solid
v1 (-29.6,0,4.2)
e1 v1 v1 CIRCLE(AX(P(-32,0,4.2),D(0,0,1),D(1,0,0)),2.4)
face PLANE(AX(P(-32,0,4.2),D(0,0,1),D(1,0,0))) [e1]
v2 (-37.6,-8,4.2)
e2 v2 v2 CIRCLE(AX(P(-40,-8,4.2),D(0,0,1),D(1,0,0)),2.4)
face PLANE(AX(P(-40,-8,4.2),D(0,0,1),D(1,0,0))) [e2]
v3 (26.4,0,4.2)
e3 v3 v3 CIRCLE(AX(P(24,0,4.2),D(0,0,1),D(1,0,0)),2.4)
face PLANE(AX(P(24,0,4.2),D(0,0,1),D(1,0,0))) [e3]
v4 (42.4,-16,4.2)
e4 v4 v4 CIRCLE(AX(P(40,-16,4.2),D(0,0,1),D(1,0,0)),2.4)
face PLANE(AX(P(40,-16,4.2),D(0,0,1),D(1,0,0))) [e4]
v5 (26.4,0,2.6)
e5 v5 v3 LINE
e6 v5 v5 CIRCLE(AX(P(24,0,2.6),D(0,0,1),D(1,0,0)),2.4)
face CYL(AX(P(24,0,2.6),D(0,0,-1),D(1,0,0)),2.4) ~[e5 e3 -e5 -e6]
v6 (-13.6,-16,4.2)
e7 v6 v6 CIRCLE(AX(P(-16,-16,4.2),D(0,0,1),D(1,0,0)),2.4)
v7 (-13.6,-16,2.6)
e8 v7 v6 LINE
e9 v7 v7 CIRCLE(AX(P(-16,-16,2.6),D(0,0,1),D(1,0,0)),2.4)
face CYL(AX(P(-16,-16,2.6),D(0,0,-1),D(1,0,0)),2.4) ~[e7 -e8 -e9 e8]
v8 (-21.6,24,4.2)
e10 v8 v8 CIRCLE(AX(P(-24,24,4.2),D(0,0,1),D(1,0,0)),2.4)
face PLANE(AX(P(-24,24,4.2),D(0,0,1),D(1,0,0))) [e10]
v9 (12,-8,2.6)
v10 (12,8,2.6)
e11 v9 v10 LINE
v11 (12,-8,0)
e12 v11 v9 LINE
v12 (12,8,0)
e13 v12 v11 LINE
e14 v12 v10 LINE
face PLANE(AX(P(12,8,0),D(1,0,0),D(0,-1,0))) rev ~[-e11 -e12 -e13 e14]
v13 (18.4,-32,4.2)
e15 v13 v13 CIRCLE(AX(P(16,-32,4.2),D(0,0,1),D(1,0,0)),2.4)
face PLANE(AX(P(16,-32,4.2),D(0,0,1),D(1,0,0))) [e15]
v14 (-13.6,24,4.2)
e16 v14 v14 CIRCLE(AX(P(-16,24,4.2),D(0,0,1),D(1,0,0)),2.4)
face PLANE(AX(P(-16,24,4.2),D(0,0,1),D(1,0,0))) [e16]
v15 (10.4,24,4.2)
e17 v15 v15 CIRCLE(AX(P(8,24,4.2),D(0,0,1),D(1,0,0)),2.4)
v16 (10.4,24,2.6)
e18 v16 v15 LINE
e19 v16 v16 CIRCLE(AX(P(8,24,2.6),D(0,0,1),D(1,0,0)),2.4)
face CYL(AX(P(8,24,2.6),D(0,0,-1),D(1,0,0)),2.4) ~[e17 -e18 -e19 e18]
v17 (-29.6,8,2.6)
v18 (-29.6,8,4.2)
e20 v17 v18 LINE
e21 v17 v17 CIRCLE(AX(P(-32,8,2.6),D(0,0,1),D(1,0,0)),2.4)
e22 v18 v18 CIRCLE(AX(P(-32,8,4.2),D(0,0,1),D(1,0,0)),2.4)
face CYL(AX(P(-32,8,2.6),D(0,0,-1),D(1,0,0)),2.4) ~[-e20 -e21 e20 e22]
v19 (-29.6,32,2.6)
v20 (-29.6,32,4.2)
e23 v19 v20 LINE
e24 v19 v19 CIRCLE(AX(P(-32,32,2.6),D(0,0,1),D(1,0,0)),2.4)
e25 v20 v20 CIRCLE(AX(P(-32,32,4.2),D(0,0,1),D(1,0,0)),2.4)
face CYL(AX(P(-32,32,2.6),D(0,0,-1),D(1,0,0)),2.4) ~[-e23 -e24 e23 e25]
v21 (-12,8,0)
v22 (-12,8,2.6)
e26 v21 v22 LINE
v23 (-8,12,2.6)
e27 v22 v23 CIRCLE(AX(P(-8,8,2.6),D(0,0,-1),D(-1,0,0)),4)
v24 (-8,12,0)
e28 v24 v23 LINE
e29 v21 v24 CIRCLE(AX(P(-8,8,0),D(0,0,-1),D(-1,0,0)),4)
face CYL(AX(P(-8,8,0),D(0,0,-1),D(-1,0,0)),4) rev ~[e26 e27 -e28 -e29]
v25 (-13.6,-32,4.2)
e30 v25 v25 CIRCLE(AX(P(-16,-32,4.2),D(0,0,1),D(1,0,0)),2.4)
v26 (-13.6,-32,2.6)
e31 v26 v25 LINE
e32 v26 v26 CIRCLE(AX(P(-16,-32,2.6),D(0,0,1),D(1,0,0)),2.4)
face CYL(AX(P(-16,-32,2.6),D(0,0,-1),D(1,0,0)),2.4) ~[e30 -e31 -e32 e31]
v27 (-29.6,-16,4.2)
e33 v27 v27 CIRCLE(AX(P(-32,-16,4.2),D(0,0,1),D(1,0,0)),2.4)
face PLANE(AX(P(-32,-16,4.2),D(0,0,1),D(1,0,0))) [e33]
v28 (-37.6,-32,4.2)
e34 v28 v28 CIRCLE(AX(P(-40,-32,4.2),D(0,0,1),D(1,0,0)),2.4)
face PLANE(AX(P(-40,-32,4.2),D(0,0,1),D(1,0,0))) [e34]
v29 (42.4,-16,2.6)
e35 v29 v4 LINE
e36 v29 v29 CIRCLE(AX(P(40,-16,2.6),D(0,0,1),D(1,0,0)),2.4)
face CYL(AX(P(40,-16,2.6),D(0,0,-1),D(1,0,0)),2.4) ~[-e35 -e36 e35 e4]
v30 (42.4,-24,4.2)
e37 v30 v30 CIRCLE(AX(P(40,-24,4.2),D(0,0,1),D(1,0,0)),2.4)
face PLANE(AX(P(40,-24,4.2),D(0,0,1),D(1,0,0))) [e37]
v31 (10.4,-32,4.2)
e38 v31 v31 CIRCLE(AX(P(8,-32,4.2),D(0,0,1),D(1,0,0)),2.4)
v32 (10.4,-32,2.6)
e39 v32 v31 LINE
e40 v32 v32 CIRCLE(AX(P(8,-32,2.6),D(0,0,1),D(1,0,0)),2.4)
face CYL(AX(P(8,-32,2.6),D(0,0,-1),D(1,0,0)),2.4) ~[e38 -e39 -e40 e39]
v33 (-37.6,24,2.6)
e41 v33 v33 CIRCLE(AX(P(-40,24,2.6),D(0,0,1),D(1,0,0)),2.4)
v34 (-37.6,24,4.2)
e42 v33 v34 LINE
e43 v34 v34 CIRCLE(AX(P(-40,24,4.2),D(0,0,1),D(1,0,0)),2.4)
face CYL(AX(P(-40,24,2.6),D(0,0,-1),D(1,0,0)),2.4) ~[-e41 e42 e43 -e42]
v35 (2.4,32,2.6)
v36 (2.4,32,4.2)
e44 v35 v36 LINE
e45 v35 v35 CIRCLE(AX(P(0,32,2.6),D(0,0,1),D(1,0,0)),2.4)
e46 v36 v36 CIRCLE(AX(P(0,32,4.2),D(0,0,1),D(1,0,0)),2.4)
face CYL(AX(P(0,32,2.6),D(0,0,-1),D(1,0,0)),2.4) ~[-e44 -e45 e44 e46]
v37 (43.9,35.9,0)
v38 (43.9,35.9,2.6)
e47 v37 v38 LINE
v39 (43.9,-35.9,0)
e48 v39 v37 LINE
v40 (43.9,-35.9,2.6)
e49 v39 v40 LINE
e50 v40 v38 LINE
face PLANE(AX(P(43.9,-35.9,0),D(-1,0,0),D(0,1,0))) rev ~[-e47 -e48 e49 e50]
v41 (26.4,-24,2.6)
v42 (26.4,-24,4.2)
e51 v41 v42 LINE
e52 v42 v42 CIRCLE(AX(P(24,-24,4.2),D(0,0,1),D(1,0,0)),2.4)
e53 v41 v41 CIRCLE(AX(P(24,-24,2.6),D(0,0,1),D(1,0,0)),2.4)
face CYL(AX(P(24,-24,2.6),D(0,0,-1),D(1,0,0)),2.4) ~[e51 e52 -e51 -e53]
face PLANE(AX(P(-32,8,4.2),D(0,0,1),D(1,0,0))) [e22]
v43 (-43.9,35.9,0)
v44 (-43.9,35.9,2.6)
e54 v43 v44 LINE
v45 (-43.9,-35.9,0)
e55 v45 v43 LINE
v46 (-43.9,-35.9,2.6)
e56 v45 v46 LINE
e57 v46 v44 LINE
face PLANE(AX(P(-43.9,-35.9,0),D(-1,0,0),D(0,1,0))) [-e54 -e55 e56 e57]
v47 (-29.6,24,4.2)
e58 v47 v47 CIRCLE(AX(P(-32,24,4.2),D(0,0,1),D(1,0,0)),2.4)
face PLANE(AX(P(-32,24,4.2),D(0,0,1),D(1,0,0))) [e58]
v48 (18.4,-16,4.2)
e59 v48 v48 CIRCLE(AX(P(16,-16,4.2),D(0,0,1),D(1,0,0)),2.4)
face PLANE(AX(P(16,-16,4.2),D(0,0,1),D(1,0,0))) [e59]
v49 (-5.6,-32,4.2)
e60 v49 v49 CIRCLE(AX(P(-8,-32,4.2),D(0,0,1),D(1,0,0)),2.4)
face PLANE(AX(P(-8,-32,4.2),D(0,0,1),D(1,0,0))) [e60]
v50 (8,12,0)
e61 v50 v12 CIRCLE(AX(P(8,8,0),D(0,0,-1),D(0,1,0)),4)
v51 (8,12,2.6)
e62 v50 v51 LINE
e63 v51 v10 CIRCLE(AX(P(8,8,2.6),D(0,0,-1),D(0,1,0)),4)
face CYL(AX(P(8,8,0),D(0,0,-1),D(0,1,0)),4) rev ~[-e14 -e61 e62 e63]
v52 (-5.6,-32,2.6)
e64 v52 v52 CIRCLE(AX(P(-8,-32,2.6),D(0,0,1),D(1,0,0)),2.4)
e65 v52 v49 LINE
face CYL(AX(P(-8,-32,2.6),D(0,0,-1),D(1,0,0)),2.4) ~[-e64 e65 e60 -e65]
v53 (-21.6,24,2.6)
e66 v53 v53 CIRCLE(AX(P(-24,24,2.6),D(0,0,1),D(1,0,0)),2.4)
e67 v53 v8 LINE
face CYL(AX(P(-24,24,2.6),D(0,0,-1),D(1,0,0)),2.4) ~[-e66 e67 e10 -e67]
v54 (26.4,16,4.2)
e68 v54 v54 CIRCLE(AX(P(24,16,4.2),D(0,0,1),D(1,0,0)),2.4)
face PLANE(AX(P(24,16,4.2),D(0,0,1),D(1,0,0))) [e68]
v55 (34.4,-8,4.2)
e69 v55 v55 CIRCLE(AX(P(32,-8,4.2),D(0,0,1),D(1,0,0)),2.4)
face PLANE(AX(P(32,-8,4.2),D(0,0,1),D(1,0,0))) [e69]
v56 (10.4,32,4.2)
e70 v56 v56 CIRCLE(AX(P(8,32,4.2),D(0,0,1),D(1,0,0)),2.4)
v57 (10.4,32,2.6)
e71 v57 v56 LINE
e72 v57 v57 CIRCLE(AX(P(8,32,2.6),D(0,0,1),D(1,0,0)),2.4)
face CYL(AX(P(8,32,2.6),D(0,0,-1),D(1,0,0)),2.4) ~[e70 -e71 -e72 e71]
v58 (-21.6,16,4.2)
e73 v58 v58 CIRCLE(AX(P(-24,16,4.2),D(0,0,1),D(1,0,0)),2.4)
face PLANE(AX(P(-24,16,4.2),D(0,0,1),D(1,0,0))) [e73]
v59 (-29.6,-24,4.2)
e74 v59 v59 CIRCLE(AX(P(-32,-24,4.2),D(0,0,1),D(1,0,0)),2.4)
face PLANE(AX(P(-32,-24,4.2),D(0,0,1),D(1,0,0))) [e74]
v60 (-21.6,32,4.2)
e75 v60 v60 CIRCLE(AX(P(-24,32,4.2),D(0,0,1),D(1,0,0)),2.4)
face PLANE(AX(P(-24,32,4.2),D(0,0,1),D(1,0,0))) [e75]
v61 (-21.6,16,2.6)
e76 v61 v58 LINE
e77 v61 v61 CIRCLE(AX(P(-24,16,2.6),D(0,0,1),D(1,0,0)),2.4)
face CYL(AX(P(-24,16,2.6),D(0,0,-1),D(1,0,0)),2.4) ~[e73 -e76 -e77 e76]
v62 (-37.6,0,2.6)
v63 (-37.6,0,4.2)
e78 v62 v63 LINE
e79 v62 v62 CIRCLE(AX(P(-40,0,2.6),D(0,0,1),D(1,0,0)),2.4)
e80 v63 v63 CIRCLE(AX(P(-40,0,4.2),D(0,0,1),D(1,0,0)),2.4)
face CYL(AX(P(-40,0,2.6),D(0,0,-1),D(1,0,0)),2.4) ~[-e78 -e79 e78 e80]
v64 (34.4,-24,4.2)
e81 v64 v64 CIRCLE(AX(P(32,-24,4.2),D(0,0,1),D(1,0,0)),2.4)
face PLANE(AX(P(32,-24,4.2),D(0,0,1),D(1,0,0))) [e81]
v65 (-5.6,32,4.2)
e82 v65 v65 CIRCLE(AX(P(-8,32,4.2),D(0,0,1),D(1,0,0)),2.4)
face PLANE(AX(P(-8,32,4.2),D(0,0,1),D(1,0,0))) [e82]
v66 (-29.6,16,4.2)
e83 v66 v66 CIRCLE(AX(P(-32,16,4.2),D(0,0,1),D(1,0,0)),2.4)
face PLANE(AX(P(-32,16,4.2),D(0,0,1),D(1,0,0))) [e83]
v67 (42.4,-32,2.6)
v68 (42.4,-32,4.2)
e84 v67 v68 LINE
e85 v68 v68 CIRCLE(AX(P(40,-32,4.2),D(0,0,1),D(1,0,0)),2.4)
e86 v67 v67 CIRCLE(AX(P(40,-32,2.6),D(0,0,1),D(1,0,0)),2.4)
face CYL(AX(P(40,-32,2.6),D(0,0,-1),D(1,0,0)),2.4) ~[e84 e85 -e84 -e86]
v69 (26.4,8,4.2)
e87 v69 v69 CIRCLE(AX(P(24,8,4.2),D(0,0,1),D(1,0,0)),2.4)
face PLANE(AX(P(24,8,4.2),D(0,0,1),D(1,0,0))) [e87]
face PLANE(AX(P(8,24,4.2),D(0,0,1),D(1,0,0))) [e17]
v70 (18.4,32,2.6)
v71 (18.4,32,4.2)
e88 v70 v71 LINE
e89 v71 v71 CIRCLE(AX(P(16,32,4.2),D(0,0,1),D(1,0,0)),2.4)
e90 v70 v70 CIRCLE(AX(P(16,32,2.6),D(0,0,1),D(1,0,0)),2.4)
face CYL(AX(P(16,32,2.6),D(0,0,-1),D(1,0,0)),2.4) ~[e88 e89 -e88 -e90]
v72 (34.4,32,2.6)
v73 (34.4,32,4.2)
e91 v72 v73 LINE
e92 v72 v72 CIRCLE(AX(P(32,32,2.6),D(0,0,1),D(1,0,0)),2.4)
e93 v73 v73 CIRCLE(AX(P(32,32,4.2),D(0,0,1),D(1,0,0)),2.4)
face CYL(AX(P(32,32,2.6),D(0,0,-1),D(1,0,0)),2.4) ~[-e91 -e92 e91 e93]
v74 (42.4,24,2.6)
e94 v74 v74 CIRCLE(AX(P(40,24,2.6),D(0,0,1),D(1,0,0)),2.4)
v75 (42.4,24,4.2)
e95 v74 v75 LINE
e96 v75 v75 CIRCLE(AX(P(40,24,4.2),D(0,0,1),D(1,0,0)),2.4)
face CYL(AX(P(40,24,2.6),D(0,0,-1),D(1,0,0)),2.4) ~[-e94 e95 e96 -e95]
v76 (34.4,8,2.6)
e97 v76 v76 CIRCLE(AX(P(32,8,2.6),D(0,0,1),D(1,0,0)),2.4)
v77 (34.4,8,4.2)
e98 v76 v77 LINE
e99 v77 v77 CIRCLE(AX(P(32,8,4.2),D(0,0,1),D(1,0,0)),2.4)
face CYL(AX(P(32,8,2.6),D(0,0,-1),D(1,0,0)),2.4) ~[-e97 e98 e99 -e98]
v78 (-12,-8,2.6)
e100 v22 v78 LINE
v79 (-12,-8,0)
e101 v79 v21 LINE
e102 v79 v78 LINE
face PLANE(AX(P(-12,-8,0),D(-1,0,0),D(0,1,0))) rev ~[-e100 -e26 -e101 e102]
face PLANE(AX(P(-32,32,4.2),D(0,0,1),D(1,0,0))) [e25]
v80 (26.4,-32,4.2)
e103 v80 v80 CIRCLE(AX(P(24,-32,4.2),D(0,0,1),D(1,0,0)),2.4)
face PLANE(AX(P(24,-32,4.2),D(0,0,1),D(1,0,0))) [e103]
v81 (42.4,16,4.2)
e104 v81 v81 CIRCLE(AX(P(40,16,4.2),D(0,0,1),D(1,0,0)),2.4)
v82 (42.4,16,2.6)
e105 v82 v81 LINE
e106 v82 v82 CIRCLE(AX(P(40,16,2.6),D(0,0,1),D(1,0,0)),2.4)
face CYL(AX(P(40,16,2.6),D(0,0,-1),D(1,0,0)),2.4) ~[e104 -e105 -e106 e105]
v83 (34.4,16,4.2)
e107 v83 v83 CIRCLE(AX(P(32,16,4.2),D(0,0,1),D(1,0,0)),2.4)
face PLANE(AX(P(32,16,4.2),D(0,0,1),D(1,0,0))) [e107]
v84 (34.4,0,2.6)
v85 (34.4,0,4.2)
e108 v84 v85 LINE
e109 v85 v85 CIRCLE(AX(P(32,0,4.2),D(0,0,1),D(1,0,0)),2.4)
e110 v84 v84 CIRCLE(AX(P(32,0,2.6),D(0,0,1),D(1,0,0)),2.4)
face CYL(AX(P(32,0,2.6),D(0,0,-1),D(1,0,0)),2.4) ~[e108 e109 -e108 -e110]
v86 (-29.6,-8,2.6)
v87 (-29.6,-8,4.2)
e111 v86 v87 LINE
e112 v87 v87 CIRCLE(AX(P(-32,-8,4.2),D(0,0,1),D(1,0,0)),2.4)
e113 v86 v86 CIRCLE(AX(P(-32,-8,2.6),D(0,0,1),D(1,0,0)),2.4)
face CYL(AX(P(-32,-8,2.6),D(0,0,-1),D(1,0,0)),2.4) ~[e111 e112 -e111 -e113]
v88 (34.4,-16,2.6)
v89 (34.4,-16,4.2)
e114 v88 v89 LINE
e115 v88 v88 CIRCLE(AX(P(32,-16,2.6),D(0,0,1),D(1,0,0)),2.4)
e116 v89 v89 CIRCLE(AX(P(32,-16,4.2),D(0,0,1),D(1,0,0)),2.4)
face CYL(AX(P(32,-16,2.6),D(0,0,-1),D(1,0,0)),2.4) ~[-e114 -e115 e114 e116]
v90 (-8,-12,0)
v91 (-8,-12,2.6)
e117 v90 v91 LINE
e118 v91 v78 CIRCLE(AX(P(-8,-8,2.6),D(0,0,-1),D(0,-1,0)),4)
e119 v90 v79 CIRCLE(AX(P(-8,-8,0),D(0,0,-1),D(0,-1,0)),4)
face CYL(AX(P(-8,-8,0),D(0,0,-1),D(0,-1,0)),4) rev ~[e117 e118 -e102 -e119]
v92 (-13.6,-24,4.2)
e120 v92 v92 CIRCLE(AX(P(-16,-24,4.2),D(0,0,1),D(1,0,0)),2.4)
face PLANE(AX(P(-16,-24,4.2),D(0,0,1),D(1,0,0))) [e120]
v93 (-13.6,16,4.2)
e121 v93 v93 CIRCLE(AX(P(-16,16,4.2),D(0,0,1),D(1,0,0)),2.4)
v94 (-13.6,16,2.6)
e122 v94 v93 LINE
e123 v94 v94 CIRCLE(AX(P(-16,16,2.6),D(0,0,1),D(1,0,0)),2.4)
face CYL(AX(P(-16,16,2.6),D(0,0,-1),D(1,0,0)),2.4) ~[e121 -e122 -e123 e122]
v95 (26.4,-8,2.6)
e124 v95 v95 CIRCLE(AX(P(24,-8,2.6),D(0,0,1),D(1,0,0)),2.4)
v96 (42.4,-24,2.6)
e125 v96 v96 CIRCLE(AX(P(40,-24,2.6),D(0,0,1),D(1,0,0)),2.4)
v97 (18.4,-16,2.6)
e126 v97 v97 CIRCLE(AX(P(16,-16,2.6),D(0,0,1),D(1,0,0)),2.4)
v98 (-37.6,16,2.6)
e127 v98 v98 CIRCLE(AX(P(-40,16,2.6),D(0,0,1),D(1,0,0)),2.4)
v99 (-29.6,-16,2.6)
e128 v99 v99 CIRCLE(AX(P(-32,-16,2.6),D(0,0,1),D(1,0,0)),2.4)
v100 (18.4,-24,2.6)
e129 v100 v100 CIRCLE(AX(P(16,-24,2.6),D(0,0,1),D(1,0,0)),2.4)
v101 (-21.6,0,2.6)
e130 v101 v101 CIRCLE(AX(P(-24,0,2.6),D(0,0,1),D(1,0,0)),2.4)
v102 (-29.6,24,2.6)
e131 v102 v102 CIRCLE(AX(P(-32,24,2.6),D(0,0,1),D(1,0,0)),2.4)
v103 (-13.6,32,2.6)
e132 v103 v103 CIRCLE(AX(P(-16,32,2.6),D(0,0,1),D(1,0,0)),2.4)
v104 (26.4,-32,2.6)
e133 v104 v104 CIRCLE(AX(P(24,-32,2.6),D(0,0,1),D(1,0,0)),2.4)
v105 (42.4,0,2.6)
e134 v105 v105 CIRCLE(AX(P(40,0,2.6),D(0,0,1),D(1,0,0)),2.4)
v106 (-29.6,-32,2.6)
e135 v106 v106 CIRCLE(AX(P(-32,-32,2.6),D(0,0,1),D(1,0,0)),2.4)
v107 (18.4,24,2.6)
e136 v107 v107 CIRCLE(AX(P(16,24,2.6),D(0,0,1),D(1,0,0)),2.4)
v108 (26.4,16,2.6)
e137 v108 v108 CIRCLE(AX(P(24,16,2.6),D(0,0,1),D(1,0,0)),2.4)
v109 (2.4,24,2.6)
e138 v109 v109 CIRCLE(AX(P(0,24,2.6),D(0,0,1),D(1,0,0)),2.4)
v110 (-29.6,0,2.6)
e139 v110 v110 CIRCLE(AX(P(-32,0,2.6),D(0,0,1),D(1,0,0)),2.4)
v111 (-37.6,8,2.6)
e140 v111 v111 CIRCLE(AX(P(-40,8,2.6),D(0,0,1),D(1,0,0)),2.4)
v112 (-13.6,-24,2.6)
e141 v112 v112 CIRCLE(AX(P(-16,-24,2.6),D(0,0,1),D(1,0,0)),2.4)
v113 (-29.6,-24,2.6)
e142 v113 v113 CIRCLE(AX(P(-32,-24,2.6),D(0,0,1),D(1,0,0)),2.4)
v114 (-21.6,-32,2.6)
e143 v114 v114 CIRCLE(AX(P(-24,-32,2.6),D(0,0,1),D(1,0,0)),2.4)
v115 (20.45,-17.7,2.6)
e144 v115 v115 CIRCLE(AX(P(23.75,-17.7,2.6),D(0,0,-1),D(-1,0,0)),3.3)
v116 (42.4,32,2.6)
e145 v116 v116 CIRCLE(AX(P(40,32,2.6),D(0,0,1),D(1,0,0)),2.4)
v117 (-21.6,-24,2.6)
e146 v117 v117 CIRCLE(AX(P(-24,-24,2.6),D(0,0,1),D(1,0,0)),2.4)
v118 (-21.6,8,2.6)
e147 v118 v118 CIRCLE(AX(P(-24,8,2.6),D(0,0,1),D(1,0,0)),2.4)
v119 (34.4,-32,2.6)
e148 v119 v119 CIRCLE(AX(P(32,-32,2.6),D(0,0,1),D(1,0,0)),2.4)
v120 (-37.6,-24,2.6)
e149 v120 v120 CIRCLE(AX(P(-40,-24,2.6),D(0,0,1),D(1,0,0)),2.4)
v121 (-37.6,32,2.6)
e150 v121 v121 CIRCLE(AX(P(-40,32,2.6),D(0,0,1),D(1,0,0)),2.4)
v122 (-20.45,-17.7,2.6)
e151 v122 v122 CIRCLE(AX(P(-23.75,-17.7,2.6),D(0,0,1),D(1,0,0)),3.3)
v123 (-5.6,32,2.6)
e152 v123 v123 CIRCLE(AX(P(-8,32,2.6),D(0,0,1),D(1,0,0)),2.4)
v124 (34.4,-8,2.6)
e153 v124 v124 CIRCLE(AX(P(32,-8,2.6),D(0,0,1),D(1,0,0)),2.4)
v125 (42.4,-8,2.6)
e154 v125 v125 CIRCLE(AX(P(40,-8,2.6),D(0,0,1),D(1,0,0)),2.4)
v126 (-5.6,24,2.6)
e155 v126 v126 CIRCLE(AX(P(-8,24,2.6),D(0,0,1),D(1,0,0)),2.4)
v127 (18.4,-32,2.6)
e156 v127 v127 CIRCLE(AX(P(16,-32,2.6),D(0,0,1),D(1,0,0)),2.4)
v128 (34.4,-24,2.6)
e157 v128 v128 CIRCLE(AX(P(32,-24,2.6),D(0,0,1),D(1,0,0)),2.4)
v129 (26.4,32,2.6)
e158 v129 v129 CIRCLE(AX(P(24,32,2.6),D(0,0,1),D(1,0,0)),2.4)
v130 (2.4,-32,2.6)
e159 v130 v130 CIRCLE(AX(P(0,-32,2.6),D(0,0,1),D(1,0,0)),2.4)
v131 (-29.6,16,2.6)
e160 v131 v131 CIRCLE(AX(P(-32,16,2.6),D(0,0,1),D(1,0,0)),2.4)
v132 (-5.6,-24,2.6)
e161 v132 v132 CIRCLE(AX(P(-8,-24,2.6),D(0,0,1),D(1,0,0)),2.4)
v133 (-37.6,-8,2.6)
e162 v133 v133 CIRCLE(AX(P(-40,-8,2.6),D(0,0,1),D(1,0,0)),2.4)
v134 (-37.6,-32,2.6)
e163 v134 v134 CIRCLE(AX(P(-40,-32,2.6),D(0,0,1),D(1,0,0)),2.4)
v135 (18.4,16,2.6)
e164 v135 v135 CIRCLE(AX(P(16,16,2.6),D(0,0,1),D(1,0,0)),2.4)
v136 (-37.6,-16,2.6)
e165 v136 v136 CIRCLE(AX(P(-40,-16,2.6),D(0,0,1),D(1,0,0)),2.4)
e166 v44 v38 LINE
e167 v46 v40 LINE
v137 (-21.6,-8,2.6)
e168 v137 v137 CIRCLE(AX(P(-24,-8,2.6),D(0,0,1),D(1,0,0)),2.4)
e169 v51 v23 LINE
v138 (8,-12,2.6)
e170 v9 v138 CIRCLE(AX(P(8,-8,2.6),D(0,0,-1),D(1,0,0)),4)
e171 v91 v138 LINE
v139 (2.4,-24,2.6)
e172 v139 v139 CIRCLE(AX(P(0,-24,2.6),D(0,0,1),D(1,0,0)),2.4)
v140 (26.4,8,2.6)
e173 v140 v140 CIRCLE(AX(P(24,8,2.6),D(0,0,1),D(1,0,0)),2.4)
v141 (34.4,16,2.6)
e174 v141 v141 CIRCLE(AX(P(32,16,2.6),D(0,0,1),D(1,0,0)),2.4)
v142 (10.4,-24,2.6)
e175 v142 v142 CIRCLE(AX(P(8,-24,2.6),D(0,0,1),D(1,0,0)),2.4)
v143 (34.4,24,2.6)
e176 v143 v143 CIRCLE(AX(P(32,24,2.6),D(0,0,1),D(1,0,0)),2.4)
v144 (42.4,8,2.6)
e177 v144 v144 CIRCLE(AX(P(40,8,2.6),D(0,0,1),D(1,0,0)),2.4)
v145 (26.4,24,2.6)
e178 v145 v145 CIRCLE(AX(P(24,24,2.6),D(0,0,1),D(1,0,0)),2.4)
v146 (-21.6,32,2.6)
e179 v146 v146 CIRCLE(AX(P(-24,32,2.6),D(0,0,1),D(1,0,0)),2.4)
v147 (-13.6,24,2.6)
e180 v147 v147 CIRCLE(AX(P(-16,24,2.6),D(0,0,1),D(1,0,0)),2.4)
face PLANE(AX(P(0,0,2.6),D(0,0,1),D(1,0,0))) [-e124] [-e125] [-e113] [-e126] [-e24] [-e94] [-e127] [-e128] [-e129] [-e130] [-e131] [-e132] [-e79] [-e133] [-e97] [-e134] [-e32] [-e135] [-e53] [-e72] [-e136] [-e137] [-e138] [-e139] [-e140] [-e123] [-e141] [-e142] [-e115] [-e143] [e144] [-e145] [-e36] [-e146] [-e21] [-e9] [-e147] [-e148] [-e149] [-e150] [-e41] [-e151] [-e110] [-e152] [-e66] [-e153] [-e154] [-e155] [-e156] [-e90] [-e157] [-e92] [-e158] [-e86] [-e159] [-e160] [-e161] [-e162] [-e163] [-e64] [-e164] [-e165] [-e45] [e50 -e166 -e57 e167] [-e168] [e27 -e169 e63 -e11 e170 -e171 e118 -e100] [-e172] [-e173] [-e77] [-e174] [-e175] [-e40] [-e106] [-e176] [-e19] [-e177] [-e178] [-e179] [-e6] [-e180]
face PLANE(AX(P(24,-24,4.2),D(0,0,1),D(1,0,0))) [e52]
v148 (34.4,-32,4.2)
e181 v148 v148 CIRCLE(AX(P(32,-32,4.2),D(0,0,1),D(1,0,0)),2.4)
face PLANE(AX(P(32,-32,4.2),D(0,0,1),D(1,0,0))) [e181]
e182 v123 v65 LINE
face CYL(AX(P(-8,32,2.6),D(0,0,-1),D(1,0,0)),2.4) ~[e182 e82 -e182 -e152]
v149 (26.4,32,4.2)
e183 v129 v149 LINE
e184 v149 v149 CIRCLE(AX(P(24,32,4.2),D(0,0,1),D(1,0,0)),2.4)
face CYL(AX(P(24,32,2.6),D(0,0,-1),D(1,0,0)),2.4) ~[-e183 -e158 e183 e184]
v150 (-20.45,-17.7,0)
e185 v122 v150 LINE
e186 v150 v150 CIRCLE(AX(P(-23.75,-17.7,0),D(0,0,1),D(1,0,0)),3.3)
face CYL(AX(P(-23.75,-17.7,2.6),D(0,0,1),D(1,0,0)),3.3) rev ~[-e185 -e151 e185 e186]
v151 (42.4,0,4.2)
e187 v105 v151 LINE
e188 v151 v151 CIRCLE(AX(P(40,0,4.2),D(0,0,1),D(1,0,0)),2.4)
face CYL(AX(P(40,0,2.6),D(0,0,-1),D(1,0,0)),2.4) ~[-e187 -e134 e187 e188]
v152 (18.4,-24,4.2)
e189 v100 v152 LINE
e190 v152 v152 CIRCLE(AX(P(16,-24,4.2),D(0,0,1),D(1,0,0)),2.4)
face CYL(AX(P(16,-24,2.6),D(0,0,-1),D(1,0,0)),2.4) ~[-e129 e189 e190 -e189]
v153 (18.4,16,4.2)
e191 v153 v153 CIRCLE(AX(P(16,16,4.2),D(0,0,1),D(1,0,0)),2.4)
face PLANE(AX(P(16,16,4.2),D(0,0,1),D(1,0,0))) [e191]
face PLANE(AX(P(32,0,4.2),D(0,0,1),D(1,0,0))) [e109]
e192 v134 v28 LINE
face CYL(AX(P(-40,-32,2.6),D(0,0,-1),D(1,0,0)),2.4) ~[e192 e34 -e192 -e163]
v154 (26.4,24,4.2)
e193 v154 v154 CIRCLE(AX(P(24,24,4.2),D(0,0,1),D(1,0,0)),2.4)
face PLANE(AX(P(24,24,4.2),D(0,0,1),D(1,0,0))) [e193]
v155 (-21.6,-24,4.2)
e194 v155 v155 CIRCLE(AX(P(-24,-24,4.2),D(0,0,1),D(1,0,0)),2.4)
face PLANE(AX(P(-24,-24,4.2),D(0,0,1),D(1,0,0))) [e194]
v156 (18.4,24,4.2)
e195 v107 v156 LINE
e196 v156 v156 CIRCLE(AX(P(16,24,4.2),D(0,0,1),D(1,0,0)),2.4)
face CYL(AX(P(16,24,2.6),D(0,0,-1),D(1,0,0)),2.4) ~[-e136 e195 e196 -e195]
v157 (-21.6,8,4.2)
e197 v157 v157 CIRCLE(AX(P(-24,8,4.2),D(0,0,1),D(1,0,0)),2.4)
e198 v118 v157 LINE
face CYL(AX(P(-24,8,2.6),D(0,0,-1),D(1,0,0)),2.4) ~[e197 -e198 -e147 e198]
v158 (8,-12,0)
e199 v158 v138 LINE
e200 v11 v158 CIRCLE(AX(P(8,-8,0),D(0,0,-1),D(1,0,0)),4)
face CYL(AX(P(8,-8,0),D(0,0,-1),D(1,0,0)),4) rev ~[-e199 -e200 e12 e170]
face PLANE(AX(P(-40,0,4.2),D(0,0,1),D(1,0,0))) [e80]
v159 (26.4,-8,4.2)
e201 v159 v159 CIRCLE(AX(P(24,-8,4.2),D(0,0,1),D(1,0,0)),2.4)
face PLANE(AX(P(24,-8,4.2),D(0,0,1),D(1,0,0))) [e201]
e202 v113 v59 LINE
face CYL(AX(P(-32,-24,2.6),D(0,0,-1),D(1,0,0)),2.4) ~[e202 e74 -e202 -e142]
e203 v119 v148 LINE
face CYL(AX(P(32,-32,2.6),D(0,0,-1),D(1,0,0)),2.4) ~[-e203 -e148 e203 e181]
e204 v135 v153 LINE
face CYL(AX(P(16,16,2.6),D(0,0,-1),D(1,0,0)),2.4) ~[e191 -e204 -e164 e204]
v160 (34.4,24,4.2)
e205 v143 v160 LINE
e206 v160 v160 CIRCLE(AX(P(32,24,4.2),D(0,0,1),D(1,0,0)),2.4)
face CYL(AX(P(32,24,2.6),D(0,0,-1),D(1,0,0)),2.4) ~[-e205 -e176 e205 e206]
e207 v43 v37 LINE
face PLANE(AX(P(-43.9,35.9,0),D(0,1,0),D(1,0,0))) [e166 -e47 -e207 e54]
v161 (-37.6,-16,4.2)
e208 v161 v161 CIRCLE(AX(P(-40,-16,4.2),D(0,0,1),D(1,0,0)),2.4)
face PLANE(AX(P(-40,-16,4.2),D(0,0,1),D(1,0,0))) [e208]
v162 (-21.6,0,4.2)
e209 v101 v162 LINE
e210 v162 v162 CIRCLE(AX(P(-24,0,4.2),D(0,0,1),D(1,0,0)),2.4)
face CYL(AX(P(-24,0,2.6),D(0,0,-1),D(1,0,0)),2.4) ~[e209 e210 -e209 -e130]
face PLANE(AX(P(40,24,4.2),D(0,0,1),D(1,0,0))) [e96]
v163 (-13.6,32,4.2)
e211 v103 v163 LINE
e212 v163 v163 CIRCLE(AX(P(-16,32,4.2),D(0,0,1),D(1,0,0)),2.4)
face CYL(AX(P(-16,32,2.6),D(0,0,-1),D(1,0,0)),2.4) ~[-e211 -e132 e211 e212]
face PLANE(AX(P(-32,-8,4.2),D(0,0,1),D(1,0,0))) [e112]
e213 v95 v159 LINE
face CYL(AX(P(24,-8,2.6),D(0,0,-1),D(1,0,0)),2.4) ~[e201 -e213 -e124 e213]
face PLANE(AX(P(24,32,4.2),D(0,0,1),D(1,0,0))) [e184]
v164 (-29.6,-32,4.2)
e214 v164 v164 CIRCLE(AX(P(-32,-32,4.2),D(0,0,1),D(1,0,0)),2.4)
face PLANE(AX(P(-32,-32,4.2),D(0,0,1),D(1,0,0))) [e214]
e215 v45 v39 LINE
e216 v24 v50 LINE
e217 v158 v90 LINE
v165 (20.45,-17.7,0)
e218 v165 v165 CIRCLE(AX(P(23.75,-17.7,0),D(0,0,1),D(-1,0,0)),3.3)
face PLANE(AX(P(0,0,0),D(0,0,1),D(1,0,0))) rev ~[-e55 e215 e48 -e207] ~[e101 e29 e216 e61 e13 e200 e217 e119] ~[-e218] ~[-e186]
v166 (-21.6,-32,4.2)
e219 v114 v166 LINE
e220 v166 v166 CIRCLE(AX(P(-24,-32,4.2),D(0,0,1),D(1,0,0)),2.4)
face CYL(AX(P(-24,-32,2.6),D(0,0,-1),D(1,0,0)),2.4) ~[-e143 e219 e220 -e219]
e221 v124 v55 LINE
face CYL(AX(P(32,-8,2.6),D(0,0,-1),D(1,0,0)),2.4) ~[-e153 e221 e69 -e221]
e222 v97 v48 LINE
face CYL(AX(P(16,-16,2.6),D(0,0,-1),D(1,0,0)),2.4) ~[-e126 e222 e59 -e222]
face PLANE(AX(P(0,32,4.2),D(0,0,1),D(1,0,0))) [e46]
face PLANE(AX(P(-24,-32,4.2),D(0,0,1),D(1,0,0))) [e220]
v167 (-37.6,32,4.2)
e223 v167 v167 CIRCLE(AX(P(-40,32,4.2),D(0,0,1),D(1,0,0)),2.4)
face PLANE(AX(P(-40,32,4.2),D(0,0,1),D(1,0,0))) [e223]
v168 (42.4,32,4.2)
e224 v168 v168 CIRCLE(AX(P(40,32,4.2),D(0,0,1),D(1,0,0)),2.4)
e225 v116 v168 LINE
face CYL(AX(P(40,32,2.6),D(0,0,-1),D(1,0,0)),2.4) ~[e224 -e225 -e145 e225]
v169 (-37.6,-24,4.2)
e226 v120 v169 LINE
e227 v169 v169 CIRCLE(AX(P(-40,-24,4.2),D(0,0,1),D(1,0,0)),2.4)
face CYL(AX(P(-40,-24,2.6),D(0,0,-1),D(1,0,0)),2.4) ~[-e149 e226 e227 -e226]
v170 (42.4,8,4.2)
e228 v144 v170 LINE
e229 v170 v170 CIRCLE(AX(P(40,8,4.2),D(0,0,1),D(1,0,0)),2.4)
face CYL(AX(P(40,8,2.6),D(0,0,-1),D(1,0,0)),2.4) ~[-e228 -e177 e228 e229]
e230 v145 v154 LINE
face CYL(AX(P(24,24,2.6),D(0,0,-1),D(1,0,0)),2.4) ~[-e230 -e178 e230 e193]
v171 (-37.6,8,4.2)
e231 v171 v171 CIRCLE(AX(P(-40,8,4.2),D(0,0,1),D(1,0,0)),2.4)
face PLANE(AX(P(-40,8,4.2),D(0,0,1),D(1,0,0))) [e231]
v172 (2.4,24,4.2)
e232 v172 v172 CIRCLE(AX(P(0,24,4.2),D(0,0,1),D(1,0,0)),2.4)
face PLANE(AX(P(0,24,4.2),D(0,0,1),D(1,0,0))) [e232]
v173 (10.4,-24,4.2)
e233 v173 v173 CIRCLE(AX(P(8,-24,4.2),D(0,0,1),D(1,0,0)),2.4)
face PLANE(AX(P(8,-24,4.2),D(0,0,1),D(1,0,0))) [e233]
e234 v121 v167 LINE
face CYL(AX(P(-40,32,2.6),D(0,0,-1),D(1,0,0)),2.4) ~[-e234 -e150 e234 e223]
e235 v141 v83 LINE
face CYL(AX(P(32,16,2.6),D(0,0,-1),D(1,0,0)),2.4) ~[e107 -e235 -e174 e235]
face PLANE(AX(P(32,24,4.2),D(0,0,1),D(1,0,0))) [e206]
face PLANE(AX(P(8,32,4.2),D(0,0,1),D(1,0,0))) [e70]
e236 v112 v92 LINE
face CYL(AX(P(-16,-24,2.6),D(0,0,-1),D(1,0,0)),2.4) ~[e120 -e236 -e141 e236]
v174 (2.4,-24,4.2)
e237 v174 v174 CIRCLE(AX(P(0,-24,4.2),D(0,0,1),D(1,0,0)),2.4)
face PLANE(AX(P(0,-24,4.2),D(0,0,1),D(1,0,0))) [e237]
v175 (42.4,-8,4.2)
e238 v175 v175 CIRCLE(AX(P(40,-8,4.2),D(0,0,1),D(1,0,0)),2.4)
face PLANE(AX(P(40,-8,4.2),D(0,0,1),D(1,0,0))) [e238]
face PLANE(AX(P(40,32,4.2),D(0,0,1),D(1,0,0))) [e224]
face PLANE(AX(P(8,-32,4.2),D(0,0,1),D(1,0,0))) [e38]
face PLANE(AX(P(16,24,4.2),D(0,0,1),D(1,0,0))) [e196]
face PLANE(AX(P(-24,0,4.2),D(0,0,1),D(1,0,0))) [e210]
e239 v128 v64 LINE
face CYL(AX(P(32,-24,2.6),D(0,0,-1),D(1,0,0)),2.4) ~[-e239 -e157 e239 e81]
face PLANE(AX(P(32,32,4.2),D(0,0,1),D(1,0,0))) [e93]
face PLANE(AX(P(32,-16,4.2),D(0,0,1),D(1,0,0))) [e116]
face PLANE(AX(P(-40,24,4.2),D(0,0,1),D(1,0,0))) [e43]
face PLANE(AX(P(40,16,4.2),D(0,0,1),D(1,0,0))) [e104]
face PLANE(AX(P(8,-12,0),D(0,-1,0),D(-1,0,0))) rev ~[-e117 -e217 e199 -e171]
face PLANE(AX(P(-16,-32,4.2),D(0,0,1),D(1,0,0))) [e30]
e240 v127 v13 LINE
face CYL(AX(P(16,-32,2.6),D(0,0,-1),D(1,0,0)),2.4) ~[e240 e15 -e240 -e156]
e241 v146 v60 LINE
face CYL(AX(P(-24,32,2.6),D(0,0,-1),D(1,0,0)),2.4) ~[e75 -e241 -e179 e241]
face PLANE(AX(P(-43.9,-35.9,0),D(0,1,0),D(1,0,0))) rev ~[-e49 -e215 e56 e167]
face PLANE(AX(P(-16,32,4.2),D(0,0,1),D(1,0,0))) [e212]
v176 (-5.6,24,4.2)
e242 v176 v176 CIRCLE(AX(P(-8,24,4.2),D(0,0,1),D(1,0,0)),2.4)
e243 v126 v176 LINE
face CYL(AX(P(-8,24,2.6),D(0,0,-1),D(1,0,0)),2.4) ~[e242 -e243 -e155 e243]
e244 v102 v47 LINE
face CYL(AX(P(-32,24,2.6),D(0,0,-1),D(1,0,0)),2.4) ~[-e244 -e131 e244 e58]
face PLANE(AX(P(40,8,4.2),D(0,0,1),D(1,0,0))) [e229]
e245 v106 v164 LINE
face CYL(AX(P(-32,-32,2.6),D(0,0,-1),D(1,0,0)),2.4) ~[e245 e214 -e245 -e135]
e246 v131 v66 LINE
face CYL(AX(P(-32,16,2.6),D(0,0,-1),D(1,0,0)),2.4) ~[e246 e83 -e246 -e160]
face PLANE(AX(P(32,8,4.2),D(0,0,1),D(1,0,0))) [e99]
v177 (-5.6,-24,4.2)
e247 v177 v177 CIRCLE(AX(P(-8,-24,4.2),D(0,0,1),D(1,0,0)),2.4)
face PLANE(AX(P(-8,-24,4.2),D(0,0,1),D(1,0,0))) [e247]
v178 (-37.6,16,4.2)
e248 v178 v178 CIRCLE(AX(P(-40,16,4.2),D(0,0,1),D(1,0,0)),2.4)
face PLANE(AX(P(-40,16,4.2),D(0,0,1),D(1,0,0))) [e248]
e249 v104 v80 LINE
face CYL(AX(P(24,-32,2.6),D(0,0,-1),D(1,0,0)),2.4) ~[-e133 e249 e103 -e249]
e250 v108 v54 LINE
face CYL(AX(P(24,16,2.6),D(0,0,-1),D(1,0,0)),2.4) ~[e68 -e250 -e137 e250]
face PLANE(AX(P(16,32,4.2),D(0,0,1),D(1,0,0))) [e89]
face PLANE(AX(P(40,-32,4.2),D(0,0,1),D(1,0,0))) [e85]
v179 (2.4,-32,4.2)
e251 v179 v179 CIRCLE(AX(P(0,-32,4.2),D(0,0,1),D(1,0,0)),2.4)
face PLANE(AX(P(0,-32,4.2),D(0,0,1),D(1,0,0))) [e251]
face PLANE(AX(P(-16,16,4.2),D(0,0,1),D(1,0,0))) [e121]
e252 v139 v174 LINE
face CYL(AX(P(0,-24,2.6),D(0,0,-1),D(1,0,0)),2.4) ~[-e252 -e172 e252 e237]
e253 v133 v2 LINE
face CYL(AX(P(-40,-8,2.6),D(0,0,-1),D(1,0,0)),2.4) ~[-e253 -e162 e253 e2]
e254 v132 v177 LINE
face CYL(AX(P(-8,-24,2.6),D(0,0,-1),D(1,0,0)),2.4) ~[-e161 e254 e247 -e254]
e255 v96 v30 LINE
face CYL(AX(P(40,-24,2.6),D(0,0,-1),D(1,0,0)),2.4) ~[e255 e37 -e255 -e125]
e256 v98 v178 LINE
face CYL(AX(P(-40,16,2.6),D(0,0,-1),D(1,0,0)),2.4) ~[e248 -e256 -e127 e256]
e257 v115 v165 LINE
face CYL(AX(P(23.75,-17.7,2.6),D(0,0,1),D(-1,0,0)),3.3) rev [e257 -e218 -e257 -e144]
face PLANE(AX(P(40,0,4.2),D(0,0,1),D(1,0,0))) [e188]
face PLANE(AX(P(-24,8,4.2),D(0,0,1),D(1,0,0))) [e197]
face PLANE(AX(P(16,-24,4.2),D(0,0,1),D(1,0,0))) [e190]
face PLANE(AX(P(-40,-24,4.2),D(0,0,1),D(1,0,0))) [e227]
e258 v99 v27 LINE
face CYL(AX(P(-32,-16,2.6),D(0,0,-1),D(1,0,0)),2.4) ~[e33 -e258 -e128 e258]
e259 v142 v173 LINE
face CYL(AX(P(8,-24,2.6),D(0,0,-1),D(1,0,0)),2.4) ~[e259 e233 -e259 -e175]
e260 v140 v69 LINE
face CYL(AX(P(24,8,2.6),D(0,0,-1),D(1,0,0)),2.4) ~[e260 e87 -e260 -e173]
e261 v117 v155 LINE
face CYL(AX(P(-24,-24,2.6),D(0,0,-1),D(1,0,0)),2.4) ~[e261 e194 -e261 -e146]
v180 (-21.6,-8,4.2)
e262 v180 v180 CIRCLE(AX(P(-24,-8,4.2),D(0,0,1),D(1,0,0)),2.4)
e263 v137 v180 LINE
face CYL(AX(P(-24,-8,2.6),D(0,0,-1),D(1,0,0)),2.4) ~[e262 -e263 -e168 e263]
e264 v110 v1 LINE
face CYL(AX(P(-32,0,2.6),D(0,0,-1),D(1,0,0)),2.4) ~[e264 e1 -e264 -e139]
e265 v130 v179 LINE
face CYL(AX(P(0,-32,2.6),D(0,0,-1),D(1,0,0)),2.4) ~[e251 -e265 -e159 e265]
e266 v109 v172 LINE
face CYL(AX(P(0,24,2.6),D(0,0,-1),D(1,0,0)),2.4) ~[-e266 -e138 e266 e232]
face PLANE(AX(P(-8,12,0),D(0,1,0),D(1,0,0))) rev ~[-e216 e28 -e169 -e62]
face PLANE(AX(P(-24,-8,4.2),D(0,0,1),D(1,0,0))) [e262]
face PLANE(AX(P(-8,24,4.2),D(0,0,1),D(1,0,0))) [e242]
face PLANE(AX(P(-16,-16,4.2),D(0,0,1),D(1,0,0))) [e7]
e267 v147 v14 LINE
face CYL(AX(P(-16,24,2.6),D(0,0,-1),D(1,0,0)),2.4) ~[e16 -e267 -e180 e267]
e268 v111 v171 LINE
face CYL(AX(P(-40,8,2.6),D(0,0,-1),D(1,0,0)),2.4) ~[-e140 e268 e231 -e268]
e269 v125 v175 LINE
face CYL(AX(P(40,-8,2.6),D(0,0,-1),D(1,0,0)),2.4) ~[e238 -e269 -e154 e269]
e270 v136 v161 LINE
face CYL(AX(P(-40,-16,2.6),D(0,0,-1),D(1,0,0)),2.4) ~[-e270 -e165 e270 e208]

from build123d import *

# Parameters (mm, degrees)
SKETCH1_W            = 87.8
SKETCH1_H            = 71.8
BOSS_EXTRUDE1_DEPTH  = 2.6
CUT_EXTRUDE1_DEPTH   = 3.6
SKETCH4_R            = 3.3
CUT_EXTRUDE2_DEPTH   = 3.6
SKETCH3_R            = 2.4
BOSS_EXTRUDE2_DEPTH  = 1.6
LPATTERN1_COUNT      = 9
LPATTERN1_PITCH      = 8
LPATTERN1_COUNT_DIR2 = 11
LPATTERN1_PITCH_DIR2 = 8


with BuildPart() as part:
    # Sketch1 → Boss-Extrude1 (new body)
    with BuildSketch(Plane.XY):
        Rectangle(SKETCH1_W, SKETCH1_H)
    extrude(amount=BOSS_EXTRUDE1_DEPTH)

    # Sketch2 → Cut-Extrude1 (cut, through all)
    with BuildSketch(Plane.XY):
        with BuildLine():
            Line((-8, 12), (8, 12))
            ThreePointArc((8, 12), (10.828427125, 10.828427125), (12, 8))
            Line((12, 8), (12, -8))
            ThreePointArc((12, -8), (10.828427125, -10.828427125), (8, -12))
            Line((8, -12), (-8, -12))
            ThreePointArc((-8, -12), (-10.828427125, -10.828427125), (-12, -8))
            Line((-12, -8), (-12, 8))
            ThreePointArc((-12, 8), (-10.828427125, 10.828427125), (-8, 12))
        make_face()
    extrude(amount=CUT_EXTRUDE1_DEPTH, mode=Mode.SUBTRACT)

    # Sketch4 → Cut-Extrude2 (cut, through all)
    with BuildSketch(Plane.XY.offset(2.6)):
        with Locations((-23.75, -17.7)):
            Circle(SKETCH4_R)
    cut_extrude2 = extrude(amount=-CUT_EXTRUDE2_DEPTH, mode=Mode.SUBTRACT)

    # Mirror1: Cut-Extrude2 across plane
    add(cut_extrude2.mirror(Plane(origin=(0, 0, 0), x_dir=(0, 0, 1), z_dir=(1, 0, 0))), mode=Mode.SUBTRACT)

    # Sketch3 → Boss-Extrude2 (add)
    with BuildSketch(Plane.XY.offset(2.6)):
        with Locations((-40, -32)):
            Circle(SKETCH3_R)
    boss_extrude2 = extrude(amount=BOSS_EXTRUDE2_DEPTH)

    # LPattern1: Boss-Extrude2 9 × 11, 23 skipped
    with Locations(*[(j * LPATTERN1_PITCH_DIR2, i * LPATTERN1_PITCH, 0) for i in range(LPATTERN1_COUNT) for j in range(LPATTERN1_COUNT_DIR2) if (i, j) not in ((0, 0), (2, 2), (2, 4), (2, 5), (2, 6), (2, 8), (3, 3), (3, 4), (3, 5), (3, 6), (3, 7), (4, 3), (4, 4), (4, 5), (4, 6), (4, 7), (5, 3), (5, 4), (5, 5), (5, 6), (5, 7), (6, 4), (6, 5), (6, 6))]):
        add(boss_extrude2)


solid = part.part
